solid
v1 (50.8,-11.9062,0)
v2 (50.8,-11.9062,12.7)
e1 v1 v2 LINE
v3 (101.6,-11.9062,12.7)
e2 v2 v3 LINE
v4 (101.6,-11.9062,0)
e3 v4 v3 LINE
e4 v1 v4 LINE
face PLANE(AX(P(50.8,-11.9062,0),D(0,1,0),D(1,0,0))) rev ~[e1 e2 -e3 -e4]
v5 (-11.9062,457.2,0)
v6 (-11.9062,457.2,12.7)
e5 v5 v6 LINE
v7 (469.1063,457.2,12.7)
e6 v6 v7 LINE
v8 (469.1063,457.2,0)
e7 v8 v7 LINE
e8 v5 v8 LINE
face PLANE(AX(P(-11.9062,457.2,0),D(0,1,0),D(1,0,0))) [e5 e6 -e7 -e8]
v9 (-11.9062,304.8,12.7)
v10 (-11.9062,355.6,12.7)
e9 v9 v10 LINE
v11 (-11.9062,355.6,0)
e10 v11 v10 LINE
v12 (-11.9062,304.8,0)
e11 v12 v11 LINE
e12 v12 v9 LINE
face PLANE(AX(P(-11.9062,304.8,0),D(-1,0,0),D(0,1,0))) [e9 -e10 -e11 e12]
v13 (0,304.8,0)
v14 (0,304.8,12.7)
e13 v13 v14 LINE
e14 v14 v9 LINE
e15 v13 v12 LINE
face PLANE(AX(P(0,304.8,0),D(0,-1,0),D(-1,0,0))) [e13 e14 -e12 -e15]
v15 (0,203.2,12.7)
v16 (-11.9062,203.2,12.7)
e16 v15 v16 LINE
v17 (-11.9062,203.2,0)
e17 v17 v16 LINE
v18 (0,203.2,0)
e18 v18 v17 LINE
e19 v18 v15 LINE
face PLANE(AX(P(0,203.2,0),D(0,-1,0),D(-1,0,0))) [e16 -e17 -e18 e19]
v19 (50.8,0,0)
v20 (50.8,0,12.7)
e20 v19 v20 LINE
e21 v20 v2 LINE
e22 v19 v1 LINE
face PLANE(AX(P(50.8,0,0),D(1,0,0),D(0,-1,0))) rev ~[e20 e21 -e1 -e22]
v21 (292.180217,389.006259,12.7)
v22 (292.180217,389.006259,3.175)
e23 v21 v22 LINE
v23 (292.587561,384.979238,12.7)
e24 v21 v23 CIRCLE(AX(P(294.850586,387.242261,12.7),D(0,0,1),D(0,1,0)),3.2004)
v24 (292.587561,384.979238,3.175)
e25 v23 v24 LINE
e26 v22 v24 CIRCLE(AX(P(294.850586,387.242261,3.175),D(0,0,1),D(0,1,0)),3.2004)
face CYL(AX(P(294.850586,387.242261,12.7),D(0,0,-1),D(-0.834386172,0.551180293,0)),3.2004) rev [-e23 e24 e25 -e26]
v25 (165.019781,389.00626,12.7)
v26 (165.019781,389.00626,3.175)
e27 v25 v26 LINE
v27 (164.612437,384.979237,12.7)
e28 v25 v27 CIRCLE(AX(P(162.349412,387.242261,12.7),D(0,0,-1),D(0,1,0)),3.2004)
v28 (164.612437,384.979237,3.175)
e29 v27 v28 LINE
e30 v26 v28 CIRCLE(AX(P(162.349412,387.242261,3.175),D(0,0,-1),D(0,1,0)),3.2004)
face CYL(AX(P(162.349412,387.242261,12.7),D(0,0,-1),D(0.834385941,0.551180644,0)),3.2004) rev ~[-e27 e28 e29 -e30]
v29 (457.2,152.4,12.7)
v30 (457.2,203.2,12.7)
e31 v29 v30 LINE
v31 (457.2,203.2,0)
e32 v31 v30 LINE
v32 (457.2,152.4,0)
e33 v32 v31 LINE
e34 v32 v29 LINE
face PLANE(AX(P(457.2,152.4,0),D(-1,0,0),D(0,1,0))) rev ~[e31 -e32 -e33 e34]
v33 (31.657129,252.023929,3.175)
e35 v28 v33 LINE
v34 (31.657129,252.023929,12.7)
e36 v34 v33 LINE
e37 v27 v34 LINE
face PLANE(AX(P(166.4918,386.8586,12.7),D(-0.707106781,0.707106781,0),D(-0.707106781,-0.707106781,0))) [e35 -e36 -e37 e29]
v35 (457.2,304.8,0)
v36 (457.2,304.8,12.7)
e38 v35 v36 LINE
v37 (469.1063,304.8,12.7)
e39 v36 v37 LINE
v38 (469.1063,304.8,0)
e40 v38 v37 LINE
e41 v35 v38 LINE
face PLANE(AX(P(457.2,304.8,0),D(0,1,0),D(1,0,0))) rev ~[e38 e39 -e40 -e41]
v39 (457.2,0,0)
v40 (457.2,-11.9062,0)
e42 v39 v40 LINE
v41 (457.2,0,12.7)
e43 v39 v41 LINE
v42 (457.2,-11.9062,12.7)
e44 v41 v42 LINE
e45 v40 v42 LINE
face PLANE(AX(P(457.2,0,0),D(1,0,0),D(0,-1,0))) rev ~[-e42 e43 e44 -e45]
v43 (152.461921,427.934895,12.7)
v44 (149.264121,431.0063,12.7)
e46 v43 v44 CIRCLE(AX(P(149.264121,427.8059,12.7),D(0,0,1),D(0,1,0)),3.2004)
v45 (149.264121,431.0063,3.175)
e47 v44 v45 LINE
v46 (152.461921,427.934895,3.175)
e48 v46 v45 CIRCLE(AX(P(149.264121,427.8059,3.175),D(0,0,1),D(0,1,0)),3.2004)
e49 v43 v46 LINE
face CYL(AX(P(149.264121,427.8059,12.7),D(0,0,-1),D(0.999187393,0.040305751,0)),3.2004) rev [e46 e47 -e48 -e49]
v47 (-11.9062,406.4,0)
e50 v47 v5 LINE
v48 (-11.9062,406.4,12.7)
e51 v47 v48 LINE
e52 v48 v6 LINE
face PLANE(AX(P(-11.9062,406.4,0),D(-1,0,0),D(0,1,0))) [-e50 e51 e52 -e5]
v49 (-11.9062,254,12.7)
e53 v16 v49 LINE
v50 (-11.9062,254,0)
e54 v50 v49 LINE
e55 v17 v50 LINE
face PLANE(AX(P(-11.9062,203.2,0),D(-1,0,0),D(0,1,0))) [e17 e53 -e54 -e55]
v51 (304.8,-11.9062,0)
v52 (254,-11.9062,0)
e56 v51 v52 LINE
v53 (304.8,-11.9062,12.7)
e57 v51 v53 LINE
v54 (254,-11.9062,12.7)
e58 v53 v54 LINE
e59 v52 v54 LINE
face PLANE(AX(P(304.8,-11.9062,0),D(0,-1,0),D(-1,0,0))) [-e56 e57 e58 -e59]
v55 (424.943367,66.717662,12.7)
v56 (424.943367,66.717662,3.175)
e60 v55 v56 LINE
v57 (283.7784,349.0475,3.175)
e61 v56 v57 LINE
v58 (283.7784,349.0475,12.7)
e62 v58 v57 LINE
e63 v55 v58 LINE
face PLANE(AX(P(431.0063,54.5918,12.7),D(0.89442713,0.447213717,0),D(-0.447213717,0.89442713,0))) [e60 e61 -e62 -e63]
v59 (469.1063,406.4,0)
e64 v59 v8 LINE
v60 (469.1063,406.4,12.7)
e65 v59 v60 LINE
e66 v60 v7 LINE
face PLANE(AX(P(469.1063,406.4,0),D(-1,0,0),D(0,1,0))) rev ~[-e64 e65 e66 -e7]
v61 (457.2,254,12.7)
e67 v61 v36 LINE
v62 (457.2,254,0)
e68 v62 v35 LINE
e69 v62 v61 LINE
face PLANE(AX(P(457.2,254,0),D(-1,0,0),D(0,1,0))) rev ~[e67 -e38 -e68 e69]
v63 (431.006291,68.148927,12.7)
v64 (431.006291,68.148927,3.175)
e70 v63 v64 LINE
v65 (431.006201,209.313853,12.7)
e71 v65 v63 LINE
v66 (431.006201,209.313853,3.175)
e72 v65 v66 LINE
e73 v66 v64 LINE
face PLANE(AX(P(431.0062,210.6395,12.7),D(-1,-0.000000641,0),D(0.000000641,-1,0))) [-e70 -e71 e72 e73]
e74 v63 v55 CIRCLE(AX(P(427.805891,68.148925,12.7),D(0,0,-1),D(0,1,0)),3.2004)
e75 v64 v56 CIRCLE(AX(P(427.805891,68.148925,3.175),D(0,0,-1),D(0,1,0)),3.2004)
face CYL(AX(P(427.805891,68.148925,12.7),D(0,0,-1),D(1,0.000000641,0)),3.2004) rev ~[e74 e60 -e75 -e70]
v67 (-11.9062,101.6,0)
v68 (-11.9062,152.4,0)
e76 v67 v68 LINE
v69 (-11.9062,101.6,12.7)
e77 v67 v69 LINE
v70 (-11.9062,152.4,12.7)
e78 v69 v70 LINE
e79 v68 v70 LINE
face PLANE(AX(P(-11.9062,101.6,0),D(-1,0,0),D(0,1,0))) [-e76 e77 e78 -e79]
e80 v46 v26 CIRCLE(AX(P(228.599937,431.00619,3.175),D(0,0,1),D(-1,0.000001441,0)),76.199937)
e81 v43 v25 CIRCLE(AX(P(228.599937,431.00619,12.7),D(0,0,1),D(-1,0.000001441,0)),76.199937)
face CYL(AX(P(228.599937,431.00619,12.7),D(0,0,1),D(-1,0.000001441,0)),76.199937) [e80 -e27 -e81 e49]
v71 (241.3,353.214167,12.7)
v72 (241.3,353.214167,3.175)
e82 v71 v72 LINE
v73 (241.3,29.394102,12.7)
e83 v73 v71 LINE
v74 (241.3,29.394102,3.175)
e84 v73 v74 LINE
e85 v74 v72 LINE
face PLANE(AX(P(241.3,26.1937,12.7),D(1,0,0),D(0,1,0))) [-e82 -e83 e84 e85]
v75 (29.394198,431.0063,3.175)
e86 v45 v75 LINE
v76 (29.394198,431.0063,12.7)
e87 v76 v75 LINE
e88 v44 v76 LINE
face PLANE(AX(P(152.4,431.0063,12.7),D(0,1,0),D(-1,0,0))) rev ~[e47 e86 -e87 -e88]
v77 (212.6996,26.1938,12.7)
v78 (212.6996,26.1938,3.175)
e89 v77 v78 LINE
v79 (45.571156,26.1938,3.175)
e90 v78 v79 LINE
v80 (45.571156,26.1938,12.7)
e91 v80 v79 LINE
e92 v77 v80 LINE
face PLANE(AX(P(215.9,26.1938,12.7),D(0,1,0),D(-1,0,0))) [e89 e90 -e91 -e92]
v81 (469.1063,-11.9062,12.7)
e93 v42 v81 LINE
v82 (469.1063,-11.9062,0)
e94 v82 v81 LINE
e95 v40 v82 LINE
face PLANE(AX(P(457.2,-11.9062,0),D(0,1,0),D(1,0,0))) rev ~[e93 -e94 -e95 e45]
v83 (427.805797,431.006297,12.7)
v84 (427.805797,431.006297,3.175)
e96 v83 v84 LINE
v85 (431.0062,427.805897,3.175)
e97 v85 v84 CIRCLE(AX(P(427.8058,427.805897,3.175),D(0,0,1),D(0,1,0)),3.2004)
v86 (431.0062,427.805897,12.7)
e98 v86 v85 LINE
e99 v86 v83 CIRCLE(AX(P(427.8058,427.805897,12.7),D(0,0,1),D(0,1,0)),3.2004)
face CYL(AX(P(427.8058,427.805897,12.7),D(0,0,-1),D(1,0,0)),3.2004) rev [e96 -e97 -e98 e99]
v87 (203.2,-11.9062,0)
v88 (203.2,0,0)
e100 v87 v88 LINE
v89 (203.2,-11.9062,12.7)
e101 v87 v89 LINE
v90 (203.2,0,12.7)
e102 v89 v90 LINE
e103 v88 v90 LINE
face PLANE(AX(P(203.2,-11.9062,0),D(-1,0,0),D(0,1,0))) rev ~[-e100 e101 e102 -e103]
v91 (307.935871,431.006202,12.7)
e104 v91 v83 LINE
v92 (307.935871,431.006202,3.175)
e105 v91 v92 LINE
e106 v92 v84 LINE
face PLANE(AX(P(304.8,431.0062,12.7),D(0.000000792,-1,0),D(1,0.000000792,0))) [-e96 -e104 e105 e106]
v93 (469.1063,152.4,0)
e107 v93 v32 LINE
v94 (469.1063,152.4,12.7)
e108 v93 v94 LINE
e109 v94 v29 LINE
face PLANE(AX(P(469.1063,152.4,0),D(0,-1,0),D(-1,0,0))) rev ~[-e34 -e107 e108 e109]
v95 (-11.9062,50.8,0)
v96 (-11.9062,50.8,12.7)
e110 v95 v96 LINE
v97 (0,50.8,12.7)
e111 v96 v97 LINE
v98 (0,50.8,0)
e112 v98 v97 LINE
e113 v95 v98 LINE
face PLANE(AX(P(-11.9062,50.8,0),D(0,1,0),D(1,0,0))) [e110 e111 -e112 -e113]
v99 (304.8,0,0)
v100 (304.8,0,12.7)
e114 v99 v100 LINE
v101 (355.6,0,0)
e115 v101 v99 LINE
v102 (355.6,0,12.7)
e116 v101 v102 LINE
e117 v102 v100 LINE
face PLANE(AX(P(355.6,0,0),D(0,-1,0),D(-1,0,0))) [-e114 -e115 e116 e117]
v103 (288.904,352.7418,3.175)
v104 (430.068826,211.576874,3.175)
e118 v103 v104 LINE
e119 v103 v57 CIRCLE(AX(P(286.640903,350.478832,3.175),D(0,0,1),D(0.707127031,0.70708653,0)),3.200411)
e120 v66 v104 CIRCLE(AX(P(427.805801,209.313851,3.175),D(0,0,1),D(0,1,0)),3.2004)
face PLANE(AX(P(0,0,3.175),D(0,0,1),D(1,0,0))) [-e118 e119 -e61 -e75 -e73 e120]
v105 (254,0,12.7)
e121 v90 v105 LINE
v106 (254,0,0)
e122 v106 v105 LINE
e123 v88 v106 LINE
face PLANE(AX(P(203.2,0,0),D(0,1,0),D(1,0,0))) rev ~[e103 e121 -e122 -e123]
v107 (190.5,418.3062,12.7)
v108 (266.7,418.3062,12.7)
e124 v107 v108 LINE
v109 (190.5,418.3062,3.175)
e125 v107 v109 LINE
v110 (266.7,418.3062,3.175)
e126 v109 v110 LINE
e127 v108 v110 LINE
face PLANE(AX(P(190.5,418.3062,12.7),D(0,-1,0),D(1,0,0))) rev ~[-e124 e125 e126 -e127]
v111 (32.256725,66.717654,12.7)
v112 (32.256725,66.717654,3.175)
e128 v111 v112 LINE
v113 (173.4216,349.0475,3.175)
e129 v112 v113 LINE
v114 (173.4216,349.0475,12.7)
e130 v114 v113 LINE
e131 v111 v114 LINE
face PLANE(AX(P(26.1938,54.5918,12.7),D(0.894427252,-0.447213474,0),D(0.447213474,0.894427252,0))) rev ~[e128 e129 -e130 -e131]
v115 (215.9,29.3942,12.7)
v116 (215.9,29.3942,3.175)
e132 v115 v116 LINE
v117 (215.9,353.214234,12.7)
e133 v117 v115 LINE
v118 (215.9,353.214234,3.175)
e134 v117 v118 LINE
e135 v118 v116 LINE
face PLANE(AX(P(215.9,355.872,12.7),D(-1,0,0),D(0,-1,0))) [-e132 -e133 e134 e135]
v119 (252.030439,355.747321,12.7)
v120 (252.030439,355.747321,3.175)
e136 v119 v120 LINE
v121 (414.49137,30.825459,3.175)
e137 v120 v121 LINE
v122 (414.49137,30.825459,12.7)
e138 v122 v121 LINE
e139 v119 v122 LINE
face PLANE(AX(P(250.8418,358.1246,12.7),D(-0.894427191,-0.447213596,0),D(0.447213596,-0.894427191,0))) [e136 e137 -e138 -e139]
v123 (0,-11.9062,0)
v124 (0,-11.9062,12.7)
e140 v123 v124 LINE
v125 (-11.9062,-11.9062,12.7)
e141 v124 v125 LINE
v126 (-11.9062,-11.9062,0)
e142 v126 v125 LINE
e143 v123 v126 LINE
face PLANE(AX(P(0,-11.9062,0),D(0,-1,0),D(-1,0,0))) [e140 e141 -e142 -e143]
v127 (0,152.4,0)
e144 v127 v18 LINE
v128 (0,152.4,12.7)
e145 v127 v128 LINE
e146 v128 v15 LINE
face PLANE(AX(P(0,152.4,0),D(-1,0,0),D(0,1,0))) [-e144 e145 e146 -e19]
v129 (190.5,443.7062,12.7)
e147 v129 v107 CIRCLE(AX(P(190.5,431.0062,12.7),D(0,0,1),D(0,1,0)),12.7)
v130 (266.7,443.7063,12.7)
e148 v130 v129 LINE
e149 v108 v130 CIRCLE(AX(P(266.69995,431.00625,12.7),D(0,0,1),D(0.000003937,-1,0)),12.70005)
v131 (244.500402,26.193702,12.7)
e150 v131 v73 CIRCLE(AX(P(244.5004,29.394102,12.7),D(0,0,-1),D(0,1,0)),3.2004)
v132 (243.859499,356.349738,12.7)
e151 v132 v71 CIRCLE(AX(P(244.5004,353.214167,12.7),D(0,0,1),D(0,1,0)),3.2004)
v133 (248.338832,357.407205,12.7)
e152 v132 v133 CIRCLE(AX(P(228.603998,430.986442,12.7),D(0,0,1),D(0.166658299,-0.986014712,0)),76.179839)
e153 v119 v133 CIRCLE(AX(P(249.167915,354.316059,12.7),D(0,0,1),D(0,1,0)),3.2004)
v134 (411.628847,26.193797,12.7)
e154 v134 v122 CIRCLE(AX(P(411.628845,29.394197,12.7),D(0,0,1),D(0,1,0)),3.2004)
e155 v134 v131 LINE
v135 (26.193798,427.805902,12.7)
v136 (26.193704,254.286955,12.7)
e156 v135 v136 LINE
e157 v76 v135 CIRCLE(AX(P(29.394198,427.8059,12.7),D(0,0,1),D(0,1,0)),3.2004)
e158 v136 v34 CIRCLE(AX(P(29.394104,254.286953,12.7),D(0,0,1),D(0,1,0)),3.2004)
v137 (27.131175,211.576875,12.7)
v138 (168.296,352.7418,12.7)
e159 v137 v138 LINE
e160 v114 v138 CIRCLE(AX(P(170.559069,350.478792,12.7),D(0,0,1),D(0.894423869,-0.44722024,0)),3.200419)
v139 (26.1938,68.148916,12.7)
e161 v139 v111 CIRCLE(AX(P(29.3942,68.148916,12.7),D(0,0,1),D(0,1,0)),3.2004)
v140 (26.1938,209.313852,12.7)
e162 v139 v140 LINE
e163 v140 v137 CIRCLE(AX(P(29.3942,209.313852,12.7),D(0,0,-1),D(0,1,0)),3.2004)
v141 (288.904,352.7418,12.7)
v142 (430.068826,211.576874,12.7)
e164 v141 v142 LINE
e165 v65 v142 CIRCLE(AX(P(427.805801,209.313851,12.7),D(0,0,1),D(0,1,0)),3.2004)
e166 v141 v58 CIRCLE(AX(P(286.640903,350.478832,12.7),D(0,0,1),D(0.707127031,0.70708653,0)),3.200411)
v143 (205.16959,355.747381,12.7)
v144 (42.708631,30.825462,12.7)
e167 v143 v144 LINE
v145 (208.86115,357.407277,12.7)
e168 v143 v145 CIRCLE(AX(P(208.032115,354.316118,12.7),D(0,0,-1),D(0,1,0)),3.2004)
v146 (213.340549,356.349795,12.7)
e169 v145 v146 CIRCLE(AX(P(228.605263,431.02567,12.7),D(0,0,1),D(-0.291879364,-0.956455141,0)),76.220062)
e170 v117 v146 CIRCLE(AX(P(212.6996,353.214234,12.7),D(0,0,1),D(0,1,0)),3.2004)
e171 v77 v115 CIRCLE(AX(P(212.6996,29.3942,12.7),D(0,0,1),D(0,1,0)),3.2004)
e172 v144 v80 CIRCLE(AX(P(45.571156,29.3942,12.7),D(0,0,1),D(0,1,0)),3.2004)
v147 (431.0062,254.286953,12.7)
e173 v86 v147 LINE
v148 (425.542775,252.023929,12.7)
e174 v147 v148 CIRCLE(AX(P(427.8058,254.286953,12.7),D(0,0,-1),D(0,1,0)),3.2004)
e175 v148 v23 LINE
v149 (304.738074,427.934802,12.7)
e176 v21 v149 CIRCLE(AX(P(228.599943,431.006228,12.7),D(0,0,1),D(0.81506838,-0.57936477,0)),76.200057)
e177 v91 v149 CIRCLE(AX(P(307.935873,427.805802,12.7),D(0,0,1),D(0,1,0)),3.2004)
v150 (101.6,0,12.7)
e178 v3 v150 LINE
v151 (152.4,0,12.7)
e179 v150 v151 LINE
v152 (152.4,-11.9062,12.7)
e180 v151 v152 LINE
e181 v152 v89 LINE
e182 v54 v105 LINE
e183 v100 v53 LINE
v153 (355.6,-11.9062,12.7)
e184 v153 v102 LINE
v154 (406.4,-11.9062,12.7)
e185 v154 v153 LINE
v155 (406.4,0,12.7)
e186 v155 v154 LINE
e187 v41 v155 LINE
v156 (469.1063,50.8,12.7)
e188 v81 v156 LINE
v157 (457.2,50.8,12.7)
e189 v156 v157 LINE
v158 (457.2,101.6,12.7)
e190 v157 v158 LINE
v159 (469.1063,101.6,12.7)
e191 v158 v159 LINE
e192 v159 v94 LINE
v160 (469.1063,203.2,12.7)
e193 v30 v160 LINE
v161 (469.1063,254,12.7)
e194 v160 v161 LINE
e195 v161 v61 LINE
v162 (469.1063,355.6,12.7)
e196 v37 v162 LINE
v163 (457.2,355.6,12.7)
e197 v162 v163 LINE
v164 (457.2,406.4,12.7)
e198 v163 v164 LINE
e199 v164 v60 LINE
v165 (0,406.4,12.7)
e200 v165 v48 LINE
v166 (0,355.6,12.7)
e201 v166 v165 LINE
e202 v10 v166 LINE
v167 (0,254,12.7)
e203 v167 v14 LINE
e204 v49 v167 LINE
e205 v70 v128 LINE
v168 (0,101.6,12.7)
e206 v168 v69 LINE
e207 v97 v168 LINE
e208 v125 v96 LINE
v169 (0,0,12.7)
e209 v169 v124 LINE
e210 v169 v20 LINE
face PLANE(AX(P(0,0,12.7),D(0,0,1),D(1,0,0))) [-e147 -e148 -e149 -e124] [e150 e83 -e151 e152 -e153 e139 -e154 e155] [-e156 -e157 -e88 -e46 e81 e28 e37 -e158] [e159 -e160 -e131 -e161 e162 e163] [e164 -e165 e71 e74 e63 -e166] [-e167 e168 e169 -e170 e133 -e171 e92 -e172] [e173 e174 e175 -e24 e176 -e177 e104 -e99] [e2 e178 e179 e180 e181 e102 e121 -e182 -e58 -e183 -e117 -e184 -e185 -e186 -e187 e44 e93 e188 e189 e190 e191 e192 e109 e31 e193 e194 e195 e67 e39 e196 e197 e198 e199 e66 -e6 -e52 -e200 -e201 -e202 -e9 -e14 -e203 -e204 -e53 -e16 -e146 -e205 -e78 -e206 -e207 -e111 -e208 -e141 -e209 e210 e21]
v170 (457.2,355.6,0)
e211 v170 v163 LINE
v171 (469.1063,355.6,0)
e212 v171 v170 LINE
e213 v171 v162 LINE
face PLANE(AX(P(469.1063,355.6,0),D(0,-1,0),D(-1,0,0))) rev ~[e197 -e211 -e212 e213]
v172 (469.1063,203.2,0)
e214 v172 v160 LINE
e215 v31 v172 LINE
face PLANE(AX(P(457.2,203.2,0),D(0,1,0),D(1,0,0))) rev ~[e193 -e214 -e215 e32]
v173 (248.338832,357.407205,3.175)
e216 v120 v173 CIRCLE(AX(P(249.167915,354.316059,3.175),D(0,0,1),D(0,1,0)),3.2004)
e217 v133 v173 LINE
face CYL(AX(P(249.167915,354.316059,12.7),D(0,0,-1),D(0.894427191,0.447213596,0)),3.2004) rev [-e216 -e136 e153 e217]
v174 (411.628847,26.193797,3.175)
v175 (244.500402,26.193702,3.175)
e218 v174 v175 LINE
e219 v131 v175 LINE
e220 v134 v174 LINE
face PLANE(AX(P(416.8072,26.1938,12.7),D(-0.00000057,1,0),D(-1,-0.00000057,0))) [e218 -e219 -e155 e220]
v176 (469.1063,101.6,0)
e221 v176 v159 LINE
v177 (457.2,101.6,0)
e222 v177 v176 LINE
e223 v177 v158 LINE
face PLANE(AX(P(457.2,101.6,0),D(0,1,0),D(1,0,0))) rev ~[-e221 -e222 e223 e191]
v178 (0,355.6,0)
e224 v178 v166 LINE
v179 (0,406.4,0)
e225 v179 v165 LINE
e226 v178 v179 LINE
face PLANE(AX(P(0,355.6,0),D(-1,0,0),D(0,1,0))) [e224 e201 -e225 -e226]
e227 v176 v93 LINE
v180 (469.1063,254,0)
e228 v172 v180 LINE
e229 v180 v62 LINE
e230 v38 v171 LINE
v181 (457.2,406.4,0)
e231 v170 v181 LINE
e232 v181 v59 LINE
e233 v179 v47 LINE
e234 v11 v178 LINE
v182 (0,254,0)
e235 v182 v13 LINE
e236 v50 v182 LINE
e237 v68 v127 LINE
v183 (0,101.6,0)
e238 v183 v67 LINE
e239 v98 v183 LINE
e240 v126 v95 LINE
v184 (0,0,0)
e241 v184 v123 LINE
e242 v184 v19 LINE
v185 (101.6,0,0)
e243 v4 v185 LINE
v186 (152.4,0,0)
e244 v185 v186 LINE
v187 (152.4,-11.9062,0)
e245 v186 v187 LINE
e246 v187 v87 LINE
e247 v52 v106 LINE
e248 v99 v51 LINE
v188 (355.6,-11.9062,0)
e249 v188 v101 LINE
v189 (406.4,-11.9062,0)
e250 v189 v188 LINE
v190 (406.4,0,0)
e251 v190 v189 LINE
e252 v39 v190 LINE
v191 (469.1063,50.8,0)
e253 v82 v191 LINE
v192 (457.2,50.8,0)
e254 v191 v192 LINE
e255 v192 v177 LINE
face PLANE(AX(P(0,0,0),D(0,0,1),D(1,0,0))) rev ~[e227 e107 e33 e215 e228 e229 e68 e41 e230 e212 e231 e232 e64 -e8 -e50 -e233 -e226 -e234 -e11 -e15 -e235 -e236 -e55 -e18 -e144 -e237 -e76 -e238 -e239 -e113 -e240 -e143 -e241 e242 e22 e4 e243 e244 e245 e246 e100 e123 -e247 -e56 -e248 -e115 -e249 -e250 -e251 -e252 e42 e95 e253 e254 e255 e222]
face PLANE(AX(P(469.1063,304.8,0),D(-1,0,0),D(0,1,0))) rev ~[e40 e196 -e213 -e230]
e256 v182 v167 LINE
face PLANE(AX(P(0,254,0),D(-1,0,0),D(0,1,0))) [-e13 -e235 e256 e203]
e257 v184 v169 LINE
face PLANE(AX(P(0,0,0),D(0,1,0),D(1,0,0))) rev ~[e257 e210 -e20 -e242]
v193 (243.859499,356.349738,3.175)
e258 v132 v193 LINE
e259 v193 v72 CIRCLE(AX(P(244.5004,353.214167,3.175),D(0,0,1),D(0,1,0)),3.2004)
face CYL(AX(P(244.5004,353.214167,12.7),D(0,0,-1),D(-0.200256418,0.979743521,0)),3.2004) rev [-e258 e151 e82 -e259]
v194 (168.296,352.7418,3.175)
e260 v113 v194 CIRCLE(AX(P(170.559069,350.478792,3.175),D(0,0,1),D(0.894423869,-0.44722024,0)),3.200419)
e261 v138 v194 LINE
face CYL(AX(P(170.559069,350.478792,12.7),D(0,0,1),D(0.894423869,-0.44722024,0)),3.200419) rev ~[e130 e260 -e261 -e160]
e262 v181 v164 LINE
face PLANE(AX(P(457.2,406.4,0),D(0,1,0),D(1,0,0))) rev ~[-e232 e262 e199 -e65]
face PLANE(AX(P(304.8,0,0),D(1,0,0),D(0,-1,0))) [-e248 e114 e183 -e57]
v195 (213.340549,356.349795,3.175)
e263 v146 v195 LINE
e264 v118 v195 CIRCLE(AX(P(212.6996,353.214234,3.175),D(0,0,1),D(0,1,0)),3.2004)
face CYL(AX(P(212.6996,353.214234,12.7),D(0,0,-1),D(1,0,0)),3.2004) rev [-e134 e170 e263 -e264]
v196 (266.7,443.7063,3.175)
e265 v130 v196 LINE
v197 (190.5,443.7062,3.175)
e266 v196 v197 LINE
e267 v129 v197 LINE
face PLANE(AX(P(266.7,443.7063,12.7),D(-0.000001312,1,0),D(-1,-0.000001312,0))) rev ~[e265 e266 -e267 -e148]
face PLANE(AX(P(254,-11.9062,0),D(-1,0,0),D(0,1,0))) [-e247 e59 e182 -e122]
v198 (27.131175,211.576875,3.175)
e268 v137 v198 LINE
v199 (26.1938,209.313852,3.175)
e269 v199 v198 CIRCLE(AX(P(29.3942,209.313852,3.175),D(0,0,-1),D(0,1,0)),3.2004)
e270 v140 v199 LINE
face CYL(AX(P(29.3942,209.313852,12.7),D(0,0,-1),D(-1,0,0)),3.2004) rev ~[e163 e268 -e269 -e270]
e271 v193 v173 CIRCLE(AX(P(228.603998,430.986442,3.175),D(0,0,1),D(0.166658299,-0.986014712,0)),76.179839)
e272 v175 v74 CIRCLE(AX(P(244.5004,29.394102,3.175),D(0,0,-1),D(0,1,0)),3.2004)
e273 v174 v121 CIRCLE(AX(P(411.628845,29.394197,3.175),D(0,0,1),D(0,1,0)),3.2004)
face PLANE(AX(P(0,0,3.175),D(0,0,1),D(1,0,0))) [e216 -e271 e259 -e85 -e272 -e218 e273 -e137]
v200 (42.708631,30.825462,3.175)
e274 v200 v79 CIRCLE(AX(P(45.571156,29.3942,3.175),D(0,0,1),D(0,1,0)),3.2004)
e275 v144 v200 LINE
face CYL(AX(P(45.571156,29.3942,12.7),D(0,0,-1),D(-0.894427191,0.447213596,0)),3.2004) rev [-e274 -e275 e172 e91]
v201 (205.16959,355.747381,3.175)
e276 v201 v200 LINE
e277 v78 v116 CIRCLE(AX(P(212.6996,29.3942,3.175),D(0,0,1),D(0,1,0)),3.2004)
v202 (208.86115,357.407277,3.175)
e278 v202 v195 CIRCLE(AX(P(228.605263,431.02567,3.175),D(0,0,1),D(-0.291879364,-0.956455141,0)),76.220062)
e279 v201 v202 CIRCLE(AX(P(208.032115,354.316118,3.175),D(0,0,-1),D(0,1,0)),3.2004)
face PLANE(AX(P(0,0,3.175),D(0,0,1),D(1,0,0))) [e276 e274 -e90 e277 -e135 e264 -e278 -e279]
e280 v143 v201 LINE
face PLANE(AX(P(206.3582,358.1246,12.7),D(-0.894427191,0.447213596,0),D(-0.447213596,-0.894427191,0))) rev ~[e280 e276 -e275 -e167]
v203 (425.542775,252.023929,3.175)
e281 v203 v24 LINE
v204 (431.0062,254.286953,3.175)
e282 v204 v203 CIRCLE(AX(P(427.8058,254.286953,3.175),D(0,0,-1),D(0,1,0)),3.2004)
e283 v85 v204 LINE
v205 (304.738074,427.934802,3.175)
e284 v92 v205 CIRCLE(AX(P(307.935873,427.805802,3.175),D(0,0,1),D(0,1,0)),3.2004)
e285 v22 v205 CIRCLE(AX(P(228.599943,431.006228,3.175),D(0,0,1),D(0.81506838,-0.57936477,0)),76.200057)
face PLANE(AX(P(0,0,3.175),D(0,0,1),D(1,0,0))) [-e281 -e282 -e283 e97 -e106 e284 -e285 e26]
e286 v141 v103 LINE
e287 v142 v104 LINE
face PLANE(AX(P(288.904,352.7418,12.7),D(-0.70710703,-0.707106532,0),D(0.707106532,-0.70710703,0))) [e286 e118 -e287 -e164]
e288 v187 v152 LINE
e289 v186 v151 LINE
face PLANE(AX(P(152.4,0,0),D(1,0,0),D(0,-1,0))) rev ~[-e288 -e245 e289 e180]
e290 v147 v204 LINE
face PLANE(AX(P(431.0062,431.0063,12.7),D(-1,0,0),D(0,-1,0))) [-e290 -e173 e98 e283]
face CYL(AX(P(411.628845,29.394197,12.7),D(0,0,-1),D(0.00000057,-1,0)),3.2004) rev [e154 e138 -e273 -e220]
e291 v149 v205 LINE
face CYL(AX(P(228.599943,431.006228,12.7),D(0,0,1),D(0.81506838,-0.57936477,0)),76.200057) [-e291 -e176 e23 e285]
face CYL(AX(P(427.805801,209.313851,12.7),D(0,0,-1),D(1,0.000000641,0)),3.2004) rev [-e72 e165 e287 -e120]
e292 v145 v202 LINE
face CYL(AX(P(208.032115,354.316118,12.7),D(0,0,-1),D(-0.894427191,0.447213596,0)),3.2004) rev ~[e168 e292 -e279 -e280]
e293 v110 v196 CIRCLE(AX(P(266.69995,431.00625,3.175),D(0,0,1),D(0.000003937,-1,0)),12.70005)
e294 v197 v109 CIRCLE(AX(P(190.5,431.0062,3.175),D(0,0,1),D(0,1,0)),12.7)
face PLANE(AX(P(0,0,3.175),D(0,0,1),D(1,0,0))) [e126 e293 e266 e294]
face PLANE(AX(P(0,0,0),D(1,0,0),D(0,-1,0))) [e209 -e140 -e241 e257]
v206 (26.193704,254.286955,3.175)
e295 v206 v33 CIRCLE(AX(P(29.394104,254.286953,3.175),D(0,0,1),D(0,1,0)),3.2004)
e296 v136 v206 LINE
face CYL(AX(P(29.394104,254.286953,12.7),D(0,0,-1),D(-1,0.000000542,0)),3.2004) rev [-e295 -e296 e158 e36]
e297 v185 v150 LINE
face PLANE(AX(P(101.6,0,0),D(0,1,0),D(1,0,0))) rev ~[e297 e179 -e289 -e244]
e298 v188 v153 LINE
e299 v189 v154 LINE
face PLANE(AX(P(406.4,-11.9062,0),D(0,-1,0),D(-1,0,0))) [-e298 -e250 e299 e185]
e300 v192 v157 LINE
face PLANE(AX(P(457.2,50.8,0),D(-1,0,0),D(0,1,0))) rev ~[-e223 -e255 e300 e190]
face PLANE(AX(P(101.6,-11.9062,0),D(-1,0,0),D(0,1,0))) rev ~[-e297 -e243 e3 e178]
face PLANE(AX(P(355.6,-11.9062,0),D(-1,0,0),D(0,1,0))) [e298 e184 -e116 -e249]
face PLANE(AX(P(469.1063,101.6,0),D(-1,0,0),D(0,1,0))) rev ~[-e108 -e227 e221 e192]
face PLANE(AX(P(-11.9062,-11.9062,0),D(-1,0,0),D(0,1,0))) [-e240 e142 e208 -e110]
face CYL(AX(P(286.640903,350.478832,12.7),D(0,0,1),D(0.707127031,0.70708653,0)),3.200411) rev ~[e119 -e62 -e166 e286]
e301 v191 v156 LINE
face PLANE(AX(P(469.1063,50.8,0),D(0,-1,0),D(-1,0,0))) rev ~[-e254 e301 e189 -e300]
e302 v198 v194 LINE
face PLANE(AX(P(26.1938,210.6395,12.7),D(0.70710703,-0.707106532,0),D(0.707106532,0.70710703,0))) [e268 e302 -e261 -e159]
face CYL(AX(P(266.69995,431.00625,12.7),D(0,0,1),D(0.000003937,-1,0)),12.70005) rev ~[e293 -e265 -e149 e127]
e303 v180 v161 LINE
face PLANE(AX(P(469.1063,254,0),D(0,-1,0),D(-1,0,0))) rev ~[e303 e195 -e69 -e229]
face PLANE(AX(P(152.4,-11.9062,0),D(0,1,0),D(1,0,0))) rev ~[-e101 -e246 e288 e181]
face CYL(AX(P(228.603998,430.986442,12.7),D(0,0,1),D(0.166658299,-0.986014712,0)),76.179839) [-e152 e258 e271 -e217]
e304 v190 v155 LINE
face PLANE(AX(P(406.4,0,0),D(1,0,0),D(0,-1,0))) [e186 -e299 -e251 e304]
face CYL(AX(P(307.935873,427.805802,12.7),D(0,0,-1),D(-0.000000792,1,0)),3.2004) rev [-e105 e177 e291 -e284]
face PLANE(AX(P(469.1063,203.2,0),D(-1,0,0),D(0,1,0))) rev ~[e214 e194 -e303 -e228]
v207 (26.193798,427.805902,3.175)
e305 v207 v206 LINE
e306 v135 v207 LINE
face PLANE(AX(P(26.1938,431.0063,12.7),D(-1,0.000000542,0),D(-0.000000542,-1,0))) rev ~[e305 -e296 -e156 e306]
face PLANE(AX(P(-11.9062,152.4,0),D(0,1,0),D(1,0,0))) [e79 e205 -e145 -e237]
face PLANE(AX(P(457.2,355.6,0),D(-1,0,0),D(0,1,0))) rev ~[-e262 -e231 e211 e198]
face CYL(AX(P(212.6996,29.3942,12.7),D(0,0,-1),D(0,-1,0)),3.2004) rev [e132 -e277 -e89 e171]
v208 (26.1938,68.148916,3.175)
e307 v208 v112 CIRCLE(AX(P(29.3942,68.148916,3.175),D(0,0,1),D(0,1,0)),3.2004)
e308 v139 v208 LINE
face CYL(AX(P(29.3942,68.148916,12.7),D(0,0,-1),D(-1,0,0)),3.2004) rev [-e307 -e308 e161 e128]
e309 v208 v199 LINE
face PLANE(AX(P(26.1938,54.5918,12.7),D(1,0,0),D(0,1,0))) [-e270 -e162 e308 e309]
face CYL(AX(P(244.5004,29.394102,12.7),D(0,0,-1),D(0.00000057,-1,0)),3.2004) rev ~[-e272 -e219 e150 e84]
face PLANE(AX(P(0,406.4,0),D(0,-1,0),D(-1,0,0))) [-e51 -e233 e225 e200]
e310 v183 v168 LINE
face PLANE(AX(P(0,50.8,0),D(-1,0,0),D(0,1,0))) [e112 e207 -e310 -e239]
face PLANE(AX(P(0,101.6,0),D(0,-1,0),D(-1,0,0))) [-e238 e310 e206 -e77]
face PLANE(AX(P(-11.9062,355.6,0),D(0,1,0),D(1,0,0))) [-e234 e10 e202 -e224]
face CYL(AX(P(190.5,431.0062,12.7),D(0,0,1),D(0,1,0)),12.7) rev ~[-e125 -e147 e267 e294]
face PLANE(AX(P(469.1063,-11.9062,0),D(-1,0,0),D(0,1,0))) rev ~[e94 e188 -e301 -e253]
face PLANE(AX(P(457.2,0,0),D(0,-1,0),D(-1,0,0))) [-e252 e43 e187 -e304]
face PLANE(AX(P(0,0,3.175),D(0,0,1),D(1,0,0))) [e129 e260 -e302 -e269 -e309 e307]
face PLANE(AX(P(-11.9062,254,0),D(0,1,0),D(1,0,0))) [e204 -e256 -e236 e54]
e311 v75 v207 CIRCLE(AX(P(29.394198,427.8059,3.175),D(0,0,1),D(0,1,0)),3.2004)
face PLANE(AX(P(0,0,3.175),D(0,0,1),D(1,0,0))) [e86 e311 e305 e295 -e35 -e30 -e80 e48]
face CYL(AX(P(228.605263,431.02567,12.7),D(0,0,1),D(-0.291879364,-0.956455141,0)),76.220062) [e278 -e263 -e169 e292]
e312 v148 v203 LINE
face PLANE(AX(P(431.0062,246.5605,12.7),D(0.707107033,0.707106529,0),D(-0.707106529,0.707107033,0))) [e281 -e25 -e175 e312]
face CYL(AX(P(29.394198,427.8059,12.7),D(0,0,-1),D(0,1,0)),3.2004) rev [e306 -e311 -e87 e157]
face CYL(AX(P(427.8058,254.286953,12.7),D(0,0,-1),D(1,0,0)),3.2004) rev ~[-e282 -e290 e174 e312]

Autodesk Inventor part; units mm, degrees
ref_plane "YZ Plane" through (0, 0, 0) normal (1, 0, 0) x (0, 1, 0)
ref_plane "XZ Plane" through (0, 0, 0) normal (0, 1, 0) x (-1, 0, 0)
ref_plane "XY Plane" through (0, 0, 0) normal (0, 0, 1) x (1, 0, 0)
sketch "Sketch1" plane through (0, 0, 0) normal (0, 0, 1) x (1, 0, 0)
  line L0 (0, 0) -> (0, -11.9062)
  line L1 (0, -11.9062) -> (-11.9062, -11.9062)
  line L2 (0, 0) -> (50.8, 0)
  line L3 (50.8, 0) -> (50.8, -11.9062)
  line L4 (50.8, -11.9062) -> (101.6, -11.9062)
  line L5 (101.6, -11.9062) -> (101.6, 0)
  line L6 (101.6, 0) -> (152.4, 0)
  line L7 (152.4, 0) -> (152.4, -11.9062)
  line L8 (152.4, -11.9062) -> (203.2, -11.9062)
  line L9 (203.2, -11.9062) -> (203.2, 0)
  line L10 (-11.9062, -11.9062) -> (-11.9062, 50.8)
  line L11 (-11.9062, 50.8) -> (0, 50.8)
  line L12 (0, 50.8) -> (0, 101.6)
  line L13 (0, 101.6) -> (-11.9062, 101.6)
  line L14 (-11.9062, 101.6) -> (-11.9062, 152.4)
  line L15 (-11.9062, 152.4) -> (0, 152.4)
  line L16 (0, 152.4) -> (0, 203.2)
  line L17 (0, 203.2) -> (-11.9062, 203.2)
  line L18 (-11.9062, 203.2) -> (-11.9062, 254)
  line L19 (-11.9062, 254) -> (0, 254)
  line L20 (0, 254) -> (0, 304.8)
  line L21 (0, 304.8) -> (-11.9062, 304.8)
  line L22 (-11.9062, 304.8) -> (-11.9062, 355.6)
  line L23 (-11.9062, 355.6) -> (0, 355.6)
  line L24 (0, 355.6) -> (0, 406.4)
  line L25 (0, 406.4) -> (-11.9062, 406.4)
  line L26 (-11.9062, 406.4) -> (-11.9062, 457.2)
  line L27 (228.6, 0) -> (228.6, 457.2) construction
  line L28 (457.2, 0) -> (457.2, -11.9062)
  line L29 (457.2, -11.9062) -> (469.1063, -11.9062)
  line L30 (457.2, 0) -> (406.4, 0)
  line L31 (406.4, 0) -> (406.4, -11.9062)
  line L32 (406.4, -11.9062) -> (355.6, -11.9062)
  line L33 (355.6, -11.9062) -> (355.6, 0)
  line L34 (355.6, 0) -> (304.8, 0)
  line L35 (304.8, 0) -> (304.8, -11.9062)
  line L36 (304.8, -11.9062) -> (254, -11.9062)
  line L37 (254, -11.9062) -> (254, 0)
  line L38 (469.1063, -11.9062) -> (469.1063, 50.8)
  line L39 (469.1063, 50.8) -> (457.2, 50.8)
  line L40 (457.2, 50.8) -> (457.2, 101.6)
  line L41 (457.2, 101.6) -> (469.1063, 101.6)
  line L42 (469.1063, 101.6) -> (469.1063, 152.4)
  line L43 (469.1063, 152.4) -> (457.2, 152.4)
  line L44 (457.2, 152.4) -> (457.2, 203.2)
  line L45 (457.2, 203.2) -> (469.1063, 203.2)
  line L46 (469.1063, 203.2) -> (469.1063, 254)
  line L47 (469.1063, 254) -> (457.2, 254)
  line L48 (457.2, 254) -> (457.2, 304.8)
  line L49 (457.2, 304.8) -> (469.1063, 304.8)
  line L50 (469.1063, 304.8) -> (469.1063, 355.6)
  line L51 (469.1063, 355.6) -> (457.2, 355.6)
  line L52 (457.2, 355.6) -> (457.2, 406.4)
  line L53 (457.2, 406.4) -> (469.1063, 406.4)
  line L54 (469.1063, 406.4) -> (469.1063, 457.2)
  line L55 (203.2, 0) -> (254, 0)
  line L56 (-11.9062, 457.2) -> (469.1063, 457.2)
  dimension "thickness" = 11.9062
  dimension "toothwidth" = 50.8
  dimension "d10" = 62.7062
  dimension "d26" = 457.2
  dimension "d27" = 228.6
extrude "Extrusion1" add sketch "Sketch1" along normal blind 12.7
sketch "Sketch2" plane through (0, 0, 12.7) normal (0, 0, 1) x (1, 0, 0)
  line L0 (26.1938, 26.1938) -> (431.0062, 26.1938) construction
  line L1 (431.0062, 26.1938) -> (431.0062, 431.0063) construction
  line L2 (431.0062, 431.0063) -> (26.1938, 431.0063) construction
  line L3 (26.1938, 431.0063) -> (26.1938, 26.1938) construction
  line L4 (469.1063, 457.2) -> (-11.9062, 457.2) construction
  line L5 (-11.9062, 355.6) -> (-11.9062, 304.8) construction
  line L6 (152.4, -11.9062) -> (203.2, -11.9062) construction
  line L7 (469.1063, 203.2) -> (469.1063, 254) projected
  line L8 (190.5, 431.0062) -> (266.7, 431.0062) construction
  line L9 (190.5, 418.3062) -> (266.7, 418.3062)
  line L10 (266.7, 443.7063) -> (190.5, 443.7062)
  arc A0 (190.5, 443.7062) -> (190.5, 418.3062) centre (190.5, 431.0062) ccw
  arc A1 (266.7, 418.3062) -> (266.7, 443.7063) centre (266.7, 431.0062) ccw
  line L11 (-11.9062, 457.2) -> (469.1063, 457.2) projected
  line L12 (26.1937, 228.6) -> (228.6, 431.0062) construction
  line L13 (228.6, 431.0062) -> (26.1938, 26.1938) construction
  line L14 (431.0063, 228.6) -> (228.6, 431.0062) construction
  line L15 (431.0062, 26.1938) -> (228.6, 431.0062) construction
  line L16 (228.6, 26.1938) -> (228.6, 431.0062) construction
  line L17 (166.4918, 386.8586) -> (26.1937, 246.5605)
  line L18 (26.1938, 210.6395) -> (168.296, 352.7418)
  line L19 (206.3582, 358.1246) -> (40.3928, 26.1938)
  line L20 (26.1938, 54.5918) -> (173.4216, 349.0475)
  line L21 (241.3, 26.1937) -> (241.3, 355.872)
  line L22 (215.9, 355.872) -> (215.9, 26.1938)
  line L23 (431.0063, 54.5918) -> (283.7784, 349.0475)
  line L24 (250.8418, 358.1246) -> (416.8072, 26.1938)
  line L25 (431.0062, 246.5605) -> (290.7082, 386.8586)
  line L26 (288.904, 352.7418) -> (431.0062, 210.6395)
  line L27 (304.8, 431.0062) -> (431.0062, 431.0063)
  line L28 (431.0062, 431.0063) -> (431.0062, 246.5605)
  line L29 (431.0062, 210.6395) -> (431.0063, 54.5918)
  line L30 (416.8072, 26.1938) -> (241.3, 26.1937)
  line L31 (215.9, 26.1938) -> (40.3928, 26.1938)
  line L32 (26.1938, 54.5918) -> (26.1938, 210.6395)
  line L33 (152.4, 431.0063) -> (26.1938, 431.0063)
  line L34 (26.1938, 431.0063) -> (26.1937, 246.5605)
  arc A2 (173.4216, 349.0475) -> (168.296, 352.7418) centre (170.5591, 350.4788) ccw
  arc A3 (288.904, 352.7418) -> (283.7784, 349.0475) centre (286.6409, 350.4788) ccw
  arc A4 (290.7082, 386.8586) -> (304.8, 431.0062) centre (228.6, 431.0062) ccw
  arc A5 (241.3, 355.872) -> (250.8418, 358.1246) centre (228.6, 431.0062) ccw
  arc A6 (152.4, 431.0063) -> (166.4918, 386.8586) centre (228.6, 431.0062) ccw
  arc A7 (206.3582, 358.1246) -> (215.9, 355.872) centre (228.6, 431.0062) ccw
  point P0 (0, 0)
  dimension "d30" = 26.1938
  dimension "border" = 38.1
  dimension "d33" = 38.1
  dimension "d34" = 38.1
  dimension "d35" = 38.1
  dimension "d36" = 25.4
  dimension "strutrad" = 12.7
  dimension "d38" = 12.7
  dimension "d39" = 12.7
  dimension "d40" = 12.7
  dimension "d41" = 12.7
  dimension "d42" = 12.7
  dimension "d43" = 12.7
  dimension "d44" = 12.7
  dimension "d45" = 12.7
  dimension "d46" = 12.7
  dimension "bitrad" = 3.2004
  dimension "d48" = 3.2004
  dimension "circrad" = 76.2
  dimension "d50" = 76.2
  dimension "d51" = 76.2
  dimension "d52" = 76.2
extrude "Extrusion2" cut sketch "Sketch2" against normal blind 9.525
fillet "Fillet1" radius 3.2004 20 edges at (206.3582, 358.1246, 7.9375) (215.9, 355.872, 7.9375) (152.4, 431.0063, 7.9375) (26.1938, 431.0063, 7.9375) (26.1937, 246.5605, 7.9375) (26.1938, 210.6395, 7.9375) (26.1938, 54.5918, 7.9375) (40.3928, 26.1938, 7.9375) (215.9, 26.1938, 7.9375) (241.3, 26.1937, 7.9375) (416.8072, 26.1938, 7.9375) (431.0063, 54.5918, 7.9375) (250.8418, 358.1246, 7.9375) (241.3, 355.872, 7.9375) (304.8, 431.0062, 7.9375) (290.7082, 386.8586, 7.9375) (431.0062, 431.0063, 7.9375) (431.0062, 246.5605, 7.9375) (431.0062, 210.6395, 7.9375) (166.4918, 386.8586, 7.9375)
equation "\"d10\" = toothwidth + thickness"
equation "\"d30\" = border - thickness"
equation "\"d33\" = border"
equation "\"d38\" = strutrad"
equation "\"d39\" = strutrad"
equation "\"d40\" = strutrad"
equation "\"d41\" = strutrad"
equation "\"d42\" = strutrad"
equation "\"d43\" = strutrad"
equation "\"d44\" = strutrad"
equation "\"d45\" = strutrad"
equation "\"d46\" = strutrad"
equation "\"d48\" = bitrad"
equation "\"d50\" = circrad"
equation "\"d51\" = circrad"
equation "\"d52\" = circrad"
equation "\"d55\" = bitrad"
properties part number "SizingCrateMajorSide" material "Wood (Birch)"
